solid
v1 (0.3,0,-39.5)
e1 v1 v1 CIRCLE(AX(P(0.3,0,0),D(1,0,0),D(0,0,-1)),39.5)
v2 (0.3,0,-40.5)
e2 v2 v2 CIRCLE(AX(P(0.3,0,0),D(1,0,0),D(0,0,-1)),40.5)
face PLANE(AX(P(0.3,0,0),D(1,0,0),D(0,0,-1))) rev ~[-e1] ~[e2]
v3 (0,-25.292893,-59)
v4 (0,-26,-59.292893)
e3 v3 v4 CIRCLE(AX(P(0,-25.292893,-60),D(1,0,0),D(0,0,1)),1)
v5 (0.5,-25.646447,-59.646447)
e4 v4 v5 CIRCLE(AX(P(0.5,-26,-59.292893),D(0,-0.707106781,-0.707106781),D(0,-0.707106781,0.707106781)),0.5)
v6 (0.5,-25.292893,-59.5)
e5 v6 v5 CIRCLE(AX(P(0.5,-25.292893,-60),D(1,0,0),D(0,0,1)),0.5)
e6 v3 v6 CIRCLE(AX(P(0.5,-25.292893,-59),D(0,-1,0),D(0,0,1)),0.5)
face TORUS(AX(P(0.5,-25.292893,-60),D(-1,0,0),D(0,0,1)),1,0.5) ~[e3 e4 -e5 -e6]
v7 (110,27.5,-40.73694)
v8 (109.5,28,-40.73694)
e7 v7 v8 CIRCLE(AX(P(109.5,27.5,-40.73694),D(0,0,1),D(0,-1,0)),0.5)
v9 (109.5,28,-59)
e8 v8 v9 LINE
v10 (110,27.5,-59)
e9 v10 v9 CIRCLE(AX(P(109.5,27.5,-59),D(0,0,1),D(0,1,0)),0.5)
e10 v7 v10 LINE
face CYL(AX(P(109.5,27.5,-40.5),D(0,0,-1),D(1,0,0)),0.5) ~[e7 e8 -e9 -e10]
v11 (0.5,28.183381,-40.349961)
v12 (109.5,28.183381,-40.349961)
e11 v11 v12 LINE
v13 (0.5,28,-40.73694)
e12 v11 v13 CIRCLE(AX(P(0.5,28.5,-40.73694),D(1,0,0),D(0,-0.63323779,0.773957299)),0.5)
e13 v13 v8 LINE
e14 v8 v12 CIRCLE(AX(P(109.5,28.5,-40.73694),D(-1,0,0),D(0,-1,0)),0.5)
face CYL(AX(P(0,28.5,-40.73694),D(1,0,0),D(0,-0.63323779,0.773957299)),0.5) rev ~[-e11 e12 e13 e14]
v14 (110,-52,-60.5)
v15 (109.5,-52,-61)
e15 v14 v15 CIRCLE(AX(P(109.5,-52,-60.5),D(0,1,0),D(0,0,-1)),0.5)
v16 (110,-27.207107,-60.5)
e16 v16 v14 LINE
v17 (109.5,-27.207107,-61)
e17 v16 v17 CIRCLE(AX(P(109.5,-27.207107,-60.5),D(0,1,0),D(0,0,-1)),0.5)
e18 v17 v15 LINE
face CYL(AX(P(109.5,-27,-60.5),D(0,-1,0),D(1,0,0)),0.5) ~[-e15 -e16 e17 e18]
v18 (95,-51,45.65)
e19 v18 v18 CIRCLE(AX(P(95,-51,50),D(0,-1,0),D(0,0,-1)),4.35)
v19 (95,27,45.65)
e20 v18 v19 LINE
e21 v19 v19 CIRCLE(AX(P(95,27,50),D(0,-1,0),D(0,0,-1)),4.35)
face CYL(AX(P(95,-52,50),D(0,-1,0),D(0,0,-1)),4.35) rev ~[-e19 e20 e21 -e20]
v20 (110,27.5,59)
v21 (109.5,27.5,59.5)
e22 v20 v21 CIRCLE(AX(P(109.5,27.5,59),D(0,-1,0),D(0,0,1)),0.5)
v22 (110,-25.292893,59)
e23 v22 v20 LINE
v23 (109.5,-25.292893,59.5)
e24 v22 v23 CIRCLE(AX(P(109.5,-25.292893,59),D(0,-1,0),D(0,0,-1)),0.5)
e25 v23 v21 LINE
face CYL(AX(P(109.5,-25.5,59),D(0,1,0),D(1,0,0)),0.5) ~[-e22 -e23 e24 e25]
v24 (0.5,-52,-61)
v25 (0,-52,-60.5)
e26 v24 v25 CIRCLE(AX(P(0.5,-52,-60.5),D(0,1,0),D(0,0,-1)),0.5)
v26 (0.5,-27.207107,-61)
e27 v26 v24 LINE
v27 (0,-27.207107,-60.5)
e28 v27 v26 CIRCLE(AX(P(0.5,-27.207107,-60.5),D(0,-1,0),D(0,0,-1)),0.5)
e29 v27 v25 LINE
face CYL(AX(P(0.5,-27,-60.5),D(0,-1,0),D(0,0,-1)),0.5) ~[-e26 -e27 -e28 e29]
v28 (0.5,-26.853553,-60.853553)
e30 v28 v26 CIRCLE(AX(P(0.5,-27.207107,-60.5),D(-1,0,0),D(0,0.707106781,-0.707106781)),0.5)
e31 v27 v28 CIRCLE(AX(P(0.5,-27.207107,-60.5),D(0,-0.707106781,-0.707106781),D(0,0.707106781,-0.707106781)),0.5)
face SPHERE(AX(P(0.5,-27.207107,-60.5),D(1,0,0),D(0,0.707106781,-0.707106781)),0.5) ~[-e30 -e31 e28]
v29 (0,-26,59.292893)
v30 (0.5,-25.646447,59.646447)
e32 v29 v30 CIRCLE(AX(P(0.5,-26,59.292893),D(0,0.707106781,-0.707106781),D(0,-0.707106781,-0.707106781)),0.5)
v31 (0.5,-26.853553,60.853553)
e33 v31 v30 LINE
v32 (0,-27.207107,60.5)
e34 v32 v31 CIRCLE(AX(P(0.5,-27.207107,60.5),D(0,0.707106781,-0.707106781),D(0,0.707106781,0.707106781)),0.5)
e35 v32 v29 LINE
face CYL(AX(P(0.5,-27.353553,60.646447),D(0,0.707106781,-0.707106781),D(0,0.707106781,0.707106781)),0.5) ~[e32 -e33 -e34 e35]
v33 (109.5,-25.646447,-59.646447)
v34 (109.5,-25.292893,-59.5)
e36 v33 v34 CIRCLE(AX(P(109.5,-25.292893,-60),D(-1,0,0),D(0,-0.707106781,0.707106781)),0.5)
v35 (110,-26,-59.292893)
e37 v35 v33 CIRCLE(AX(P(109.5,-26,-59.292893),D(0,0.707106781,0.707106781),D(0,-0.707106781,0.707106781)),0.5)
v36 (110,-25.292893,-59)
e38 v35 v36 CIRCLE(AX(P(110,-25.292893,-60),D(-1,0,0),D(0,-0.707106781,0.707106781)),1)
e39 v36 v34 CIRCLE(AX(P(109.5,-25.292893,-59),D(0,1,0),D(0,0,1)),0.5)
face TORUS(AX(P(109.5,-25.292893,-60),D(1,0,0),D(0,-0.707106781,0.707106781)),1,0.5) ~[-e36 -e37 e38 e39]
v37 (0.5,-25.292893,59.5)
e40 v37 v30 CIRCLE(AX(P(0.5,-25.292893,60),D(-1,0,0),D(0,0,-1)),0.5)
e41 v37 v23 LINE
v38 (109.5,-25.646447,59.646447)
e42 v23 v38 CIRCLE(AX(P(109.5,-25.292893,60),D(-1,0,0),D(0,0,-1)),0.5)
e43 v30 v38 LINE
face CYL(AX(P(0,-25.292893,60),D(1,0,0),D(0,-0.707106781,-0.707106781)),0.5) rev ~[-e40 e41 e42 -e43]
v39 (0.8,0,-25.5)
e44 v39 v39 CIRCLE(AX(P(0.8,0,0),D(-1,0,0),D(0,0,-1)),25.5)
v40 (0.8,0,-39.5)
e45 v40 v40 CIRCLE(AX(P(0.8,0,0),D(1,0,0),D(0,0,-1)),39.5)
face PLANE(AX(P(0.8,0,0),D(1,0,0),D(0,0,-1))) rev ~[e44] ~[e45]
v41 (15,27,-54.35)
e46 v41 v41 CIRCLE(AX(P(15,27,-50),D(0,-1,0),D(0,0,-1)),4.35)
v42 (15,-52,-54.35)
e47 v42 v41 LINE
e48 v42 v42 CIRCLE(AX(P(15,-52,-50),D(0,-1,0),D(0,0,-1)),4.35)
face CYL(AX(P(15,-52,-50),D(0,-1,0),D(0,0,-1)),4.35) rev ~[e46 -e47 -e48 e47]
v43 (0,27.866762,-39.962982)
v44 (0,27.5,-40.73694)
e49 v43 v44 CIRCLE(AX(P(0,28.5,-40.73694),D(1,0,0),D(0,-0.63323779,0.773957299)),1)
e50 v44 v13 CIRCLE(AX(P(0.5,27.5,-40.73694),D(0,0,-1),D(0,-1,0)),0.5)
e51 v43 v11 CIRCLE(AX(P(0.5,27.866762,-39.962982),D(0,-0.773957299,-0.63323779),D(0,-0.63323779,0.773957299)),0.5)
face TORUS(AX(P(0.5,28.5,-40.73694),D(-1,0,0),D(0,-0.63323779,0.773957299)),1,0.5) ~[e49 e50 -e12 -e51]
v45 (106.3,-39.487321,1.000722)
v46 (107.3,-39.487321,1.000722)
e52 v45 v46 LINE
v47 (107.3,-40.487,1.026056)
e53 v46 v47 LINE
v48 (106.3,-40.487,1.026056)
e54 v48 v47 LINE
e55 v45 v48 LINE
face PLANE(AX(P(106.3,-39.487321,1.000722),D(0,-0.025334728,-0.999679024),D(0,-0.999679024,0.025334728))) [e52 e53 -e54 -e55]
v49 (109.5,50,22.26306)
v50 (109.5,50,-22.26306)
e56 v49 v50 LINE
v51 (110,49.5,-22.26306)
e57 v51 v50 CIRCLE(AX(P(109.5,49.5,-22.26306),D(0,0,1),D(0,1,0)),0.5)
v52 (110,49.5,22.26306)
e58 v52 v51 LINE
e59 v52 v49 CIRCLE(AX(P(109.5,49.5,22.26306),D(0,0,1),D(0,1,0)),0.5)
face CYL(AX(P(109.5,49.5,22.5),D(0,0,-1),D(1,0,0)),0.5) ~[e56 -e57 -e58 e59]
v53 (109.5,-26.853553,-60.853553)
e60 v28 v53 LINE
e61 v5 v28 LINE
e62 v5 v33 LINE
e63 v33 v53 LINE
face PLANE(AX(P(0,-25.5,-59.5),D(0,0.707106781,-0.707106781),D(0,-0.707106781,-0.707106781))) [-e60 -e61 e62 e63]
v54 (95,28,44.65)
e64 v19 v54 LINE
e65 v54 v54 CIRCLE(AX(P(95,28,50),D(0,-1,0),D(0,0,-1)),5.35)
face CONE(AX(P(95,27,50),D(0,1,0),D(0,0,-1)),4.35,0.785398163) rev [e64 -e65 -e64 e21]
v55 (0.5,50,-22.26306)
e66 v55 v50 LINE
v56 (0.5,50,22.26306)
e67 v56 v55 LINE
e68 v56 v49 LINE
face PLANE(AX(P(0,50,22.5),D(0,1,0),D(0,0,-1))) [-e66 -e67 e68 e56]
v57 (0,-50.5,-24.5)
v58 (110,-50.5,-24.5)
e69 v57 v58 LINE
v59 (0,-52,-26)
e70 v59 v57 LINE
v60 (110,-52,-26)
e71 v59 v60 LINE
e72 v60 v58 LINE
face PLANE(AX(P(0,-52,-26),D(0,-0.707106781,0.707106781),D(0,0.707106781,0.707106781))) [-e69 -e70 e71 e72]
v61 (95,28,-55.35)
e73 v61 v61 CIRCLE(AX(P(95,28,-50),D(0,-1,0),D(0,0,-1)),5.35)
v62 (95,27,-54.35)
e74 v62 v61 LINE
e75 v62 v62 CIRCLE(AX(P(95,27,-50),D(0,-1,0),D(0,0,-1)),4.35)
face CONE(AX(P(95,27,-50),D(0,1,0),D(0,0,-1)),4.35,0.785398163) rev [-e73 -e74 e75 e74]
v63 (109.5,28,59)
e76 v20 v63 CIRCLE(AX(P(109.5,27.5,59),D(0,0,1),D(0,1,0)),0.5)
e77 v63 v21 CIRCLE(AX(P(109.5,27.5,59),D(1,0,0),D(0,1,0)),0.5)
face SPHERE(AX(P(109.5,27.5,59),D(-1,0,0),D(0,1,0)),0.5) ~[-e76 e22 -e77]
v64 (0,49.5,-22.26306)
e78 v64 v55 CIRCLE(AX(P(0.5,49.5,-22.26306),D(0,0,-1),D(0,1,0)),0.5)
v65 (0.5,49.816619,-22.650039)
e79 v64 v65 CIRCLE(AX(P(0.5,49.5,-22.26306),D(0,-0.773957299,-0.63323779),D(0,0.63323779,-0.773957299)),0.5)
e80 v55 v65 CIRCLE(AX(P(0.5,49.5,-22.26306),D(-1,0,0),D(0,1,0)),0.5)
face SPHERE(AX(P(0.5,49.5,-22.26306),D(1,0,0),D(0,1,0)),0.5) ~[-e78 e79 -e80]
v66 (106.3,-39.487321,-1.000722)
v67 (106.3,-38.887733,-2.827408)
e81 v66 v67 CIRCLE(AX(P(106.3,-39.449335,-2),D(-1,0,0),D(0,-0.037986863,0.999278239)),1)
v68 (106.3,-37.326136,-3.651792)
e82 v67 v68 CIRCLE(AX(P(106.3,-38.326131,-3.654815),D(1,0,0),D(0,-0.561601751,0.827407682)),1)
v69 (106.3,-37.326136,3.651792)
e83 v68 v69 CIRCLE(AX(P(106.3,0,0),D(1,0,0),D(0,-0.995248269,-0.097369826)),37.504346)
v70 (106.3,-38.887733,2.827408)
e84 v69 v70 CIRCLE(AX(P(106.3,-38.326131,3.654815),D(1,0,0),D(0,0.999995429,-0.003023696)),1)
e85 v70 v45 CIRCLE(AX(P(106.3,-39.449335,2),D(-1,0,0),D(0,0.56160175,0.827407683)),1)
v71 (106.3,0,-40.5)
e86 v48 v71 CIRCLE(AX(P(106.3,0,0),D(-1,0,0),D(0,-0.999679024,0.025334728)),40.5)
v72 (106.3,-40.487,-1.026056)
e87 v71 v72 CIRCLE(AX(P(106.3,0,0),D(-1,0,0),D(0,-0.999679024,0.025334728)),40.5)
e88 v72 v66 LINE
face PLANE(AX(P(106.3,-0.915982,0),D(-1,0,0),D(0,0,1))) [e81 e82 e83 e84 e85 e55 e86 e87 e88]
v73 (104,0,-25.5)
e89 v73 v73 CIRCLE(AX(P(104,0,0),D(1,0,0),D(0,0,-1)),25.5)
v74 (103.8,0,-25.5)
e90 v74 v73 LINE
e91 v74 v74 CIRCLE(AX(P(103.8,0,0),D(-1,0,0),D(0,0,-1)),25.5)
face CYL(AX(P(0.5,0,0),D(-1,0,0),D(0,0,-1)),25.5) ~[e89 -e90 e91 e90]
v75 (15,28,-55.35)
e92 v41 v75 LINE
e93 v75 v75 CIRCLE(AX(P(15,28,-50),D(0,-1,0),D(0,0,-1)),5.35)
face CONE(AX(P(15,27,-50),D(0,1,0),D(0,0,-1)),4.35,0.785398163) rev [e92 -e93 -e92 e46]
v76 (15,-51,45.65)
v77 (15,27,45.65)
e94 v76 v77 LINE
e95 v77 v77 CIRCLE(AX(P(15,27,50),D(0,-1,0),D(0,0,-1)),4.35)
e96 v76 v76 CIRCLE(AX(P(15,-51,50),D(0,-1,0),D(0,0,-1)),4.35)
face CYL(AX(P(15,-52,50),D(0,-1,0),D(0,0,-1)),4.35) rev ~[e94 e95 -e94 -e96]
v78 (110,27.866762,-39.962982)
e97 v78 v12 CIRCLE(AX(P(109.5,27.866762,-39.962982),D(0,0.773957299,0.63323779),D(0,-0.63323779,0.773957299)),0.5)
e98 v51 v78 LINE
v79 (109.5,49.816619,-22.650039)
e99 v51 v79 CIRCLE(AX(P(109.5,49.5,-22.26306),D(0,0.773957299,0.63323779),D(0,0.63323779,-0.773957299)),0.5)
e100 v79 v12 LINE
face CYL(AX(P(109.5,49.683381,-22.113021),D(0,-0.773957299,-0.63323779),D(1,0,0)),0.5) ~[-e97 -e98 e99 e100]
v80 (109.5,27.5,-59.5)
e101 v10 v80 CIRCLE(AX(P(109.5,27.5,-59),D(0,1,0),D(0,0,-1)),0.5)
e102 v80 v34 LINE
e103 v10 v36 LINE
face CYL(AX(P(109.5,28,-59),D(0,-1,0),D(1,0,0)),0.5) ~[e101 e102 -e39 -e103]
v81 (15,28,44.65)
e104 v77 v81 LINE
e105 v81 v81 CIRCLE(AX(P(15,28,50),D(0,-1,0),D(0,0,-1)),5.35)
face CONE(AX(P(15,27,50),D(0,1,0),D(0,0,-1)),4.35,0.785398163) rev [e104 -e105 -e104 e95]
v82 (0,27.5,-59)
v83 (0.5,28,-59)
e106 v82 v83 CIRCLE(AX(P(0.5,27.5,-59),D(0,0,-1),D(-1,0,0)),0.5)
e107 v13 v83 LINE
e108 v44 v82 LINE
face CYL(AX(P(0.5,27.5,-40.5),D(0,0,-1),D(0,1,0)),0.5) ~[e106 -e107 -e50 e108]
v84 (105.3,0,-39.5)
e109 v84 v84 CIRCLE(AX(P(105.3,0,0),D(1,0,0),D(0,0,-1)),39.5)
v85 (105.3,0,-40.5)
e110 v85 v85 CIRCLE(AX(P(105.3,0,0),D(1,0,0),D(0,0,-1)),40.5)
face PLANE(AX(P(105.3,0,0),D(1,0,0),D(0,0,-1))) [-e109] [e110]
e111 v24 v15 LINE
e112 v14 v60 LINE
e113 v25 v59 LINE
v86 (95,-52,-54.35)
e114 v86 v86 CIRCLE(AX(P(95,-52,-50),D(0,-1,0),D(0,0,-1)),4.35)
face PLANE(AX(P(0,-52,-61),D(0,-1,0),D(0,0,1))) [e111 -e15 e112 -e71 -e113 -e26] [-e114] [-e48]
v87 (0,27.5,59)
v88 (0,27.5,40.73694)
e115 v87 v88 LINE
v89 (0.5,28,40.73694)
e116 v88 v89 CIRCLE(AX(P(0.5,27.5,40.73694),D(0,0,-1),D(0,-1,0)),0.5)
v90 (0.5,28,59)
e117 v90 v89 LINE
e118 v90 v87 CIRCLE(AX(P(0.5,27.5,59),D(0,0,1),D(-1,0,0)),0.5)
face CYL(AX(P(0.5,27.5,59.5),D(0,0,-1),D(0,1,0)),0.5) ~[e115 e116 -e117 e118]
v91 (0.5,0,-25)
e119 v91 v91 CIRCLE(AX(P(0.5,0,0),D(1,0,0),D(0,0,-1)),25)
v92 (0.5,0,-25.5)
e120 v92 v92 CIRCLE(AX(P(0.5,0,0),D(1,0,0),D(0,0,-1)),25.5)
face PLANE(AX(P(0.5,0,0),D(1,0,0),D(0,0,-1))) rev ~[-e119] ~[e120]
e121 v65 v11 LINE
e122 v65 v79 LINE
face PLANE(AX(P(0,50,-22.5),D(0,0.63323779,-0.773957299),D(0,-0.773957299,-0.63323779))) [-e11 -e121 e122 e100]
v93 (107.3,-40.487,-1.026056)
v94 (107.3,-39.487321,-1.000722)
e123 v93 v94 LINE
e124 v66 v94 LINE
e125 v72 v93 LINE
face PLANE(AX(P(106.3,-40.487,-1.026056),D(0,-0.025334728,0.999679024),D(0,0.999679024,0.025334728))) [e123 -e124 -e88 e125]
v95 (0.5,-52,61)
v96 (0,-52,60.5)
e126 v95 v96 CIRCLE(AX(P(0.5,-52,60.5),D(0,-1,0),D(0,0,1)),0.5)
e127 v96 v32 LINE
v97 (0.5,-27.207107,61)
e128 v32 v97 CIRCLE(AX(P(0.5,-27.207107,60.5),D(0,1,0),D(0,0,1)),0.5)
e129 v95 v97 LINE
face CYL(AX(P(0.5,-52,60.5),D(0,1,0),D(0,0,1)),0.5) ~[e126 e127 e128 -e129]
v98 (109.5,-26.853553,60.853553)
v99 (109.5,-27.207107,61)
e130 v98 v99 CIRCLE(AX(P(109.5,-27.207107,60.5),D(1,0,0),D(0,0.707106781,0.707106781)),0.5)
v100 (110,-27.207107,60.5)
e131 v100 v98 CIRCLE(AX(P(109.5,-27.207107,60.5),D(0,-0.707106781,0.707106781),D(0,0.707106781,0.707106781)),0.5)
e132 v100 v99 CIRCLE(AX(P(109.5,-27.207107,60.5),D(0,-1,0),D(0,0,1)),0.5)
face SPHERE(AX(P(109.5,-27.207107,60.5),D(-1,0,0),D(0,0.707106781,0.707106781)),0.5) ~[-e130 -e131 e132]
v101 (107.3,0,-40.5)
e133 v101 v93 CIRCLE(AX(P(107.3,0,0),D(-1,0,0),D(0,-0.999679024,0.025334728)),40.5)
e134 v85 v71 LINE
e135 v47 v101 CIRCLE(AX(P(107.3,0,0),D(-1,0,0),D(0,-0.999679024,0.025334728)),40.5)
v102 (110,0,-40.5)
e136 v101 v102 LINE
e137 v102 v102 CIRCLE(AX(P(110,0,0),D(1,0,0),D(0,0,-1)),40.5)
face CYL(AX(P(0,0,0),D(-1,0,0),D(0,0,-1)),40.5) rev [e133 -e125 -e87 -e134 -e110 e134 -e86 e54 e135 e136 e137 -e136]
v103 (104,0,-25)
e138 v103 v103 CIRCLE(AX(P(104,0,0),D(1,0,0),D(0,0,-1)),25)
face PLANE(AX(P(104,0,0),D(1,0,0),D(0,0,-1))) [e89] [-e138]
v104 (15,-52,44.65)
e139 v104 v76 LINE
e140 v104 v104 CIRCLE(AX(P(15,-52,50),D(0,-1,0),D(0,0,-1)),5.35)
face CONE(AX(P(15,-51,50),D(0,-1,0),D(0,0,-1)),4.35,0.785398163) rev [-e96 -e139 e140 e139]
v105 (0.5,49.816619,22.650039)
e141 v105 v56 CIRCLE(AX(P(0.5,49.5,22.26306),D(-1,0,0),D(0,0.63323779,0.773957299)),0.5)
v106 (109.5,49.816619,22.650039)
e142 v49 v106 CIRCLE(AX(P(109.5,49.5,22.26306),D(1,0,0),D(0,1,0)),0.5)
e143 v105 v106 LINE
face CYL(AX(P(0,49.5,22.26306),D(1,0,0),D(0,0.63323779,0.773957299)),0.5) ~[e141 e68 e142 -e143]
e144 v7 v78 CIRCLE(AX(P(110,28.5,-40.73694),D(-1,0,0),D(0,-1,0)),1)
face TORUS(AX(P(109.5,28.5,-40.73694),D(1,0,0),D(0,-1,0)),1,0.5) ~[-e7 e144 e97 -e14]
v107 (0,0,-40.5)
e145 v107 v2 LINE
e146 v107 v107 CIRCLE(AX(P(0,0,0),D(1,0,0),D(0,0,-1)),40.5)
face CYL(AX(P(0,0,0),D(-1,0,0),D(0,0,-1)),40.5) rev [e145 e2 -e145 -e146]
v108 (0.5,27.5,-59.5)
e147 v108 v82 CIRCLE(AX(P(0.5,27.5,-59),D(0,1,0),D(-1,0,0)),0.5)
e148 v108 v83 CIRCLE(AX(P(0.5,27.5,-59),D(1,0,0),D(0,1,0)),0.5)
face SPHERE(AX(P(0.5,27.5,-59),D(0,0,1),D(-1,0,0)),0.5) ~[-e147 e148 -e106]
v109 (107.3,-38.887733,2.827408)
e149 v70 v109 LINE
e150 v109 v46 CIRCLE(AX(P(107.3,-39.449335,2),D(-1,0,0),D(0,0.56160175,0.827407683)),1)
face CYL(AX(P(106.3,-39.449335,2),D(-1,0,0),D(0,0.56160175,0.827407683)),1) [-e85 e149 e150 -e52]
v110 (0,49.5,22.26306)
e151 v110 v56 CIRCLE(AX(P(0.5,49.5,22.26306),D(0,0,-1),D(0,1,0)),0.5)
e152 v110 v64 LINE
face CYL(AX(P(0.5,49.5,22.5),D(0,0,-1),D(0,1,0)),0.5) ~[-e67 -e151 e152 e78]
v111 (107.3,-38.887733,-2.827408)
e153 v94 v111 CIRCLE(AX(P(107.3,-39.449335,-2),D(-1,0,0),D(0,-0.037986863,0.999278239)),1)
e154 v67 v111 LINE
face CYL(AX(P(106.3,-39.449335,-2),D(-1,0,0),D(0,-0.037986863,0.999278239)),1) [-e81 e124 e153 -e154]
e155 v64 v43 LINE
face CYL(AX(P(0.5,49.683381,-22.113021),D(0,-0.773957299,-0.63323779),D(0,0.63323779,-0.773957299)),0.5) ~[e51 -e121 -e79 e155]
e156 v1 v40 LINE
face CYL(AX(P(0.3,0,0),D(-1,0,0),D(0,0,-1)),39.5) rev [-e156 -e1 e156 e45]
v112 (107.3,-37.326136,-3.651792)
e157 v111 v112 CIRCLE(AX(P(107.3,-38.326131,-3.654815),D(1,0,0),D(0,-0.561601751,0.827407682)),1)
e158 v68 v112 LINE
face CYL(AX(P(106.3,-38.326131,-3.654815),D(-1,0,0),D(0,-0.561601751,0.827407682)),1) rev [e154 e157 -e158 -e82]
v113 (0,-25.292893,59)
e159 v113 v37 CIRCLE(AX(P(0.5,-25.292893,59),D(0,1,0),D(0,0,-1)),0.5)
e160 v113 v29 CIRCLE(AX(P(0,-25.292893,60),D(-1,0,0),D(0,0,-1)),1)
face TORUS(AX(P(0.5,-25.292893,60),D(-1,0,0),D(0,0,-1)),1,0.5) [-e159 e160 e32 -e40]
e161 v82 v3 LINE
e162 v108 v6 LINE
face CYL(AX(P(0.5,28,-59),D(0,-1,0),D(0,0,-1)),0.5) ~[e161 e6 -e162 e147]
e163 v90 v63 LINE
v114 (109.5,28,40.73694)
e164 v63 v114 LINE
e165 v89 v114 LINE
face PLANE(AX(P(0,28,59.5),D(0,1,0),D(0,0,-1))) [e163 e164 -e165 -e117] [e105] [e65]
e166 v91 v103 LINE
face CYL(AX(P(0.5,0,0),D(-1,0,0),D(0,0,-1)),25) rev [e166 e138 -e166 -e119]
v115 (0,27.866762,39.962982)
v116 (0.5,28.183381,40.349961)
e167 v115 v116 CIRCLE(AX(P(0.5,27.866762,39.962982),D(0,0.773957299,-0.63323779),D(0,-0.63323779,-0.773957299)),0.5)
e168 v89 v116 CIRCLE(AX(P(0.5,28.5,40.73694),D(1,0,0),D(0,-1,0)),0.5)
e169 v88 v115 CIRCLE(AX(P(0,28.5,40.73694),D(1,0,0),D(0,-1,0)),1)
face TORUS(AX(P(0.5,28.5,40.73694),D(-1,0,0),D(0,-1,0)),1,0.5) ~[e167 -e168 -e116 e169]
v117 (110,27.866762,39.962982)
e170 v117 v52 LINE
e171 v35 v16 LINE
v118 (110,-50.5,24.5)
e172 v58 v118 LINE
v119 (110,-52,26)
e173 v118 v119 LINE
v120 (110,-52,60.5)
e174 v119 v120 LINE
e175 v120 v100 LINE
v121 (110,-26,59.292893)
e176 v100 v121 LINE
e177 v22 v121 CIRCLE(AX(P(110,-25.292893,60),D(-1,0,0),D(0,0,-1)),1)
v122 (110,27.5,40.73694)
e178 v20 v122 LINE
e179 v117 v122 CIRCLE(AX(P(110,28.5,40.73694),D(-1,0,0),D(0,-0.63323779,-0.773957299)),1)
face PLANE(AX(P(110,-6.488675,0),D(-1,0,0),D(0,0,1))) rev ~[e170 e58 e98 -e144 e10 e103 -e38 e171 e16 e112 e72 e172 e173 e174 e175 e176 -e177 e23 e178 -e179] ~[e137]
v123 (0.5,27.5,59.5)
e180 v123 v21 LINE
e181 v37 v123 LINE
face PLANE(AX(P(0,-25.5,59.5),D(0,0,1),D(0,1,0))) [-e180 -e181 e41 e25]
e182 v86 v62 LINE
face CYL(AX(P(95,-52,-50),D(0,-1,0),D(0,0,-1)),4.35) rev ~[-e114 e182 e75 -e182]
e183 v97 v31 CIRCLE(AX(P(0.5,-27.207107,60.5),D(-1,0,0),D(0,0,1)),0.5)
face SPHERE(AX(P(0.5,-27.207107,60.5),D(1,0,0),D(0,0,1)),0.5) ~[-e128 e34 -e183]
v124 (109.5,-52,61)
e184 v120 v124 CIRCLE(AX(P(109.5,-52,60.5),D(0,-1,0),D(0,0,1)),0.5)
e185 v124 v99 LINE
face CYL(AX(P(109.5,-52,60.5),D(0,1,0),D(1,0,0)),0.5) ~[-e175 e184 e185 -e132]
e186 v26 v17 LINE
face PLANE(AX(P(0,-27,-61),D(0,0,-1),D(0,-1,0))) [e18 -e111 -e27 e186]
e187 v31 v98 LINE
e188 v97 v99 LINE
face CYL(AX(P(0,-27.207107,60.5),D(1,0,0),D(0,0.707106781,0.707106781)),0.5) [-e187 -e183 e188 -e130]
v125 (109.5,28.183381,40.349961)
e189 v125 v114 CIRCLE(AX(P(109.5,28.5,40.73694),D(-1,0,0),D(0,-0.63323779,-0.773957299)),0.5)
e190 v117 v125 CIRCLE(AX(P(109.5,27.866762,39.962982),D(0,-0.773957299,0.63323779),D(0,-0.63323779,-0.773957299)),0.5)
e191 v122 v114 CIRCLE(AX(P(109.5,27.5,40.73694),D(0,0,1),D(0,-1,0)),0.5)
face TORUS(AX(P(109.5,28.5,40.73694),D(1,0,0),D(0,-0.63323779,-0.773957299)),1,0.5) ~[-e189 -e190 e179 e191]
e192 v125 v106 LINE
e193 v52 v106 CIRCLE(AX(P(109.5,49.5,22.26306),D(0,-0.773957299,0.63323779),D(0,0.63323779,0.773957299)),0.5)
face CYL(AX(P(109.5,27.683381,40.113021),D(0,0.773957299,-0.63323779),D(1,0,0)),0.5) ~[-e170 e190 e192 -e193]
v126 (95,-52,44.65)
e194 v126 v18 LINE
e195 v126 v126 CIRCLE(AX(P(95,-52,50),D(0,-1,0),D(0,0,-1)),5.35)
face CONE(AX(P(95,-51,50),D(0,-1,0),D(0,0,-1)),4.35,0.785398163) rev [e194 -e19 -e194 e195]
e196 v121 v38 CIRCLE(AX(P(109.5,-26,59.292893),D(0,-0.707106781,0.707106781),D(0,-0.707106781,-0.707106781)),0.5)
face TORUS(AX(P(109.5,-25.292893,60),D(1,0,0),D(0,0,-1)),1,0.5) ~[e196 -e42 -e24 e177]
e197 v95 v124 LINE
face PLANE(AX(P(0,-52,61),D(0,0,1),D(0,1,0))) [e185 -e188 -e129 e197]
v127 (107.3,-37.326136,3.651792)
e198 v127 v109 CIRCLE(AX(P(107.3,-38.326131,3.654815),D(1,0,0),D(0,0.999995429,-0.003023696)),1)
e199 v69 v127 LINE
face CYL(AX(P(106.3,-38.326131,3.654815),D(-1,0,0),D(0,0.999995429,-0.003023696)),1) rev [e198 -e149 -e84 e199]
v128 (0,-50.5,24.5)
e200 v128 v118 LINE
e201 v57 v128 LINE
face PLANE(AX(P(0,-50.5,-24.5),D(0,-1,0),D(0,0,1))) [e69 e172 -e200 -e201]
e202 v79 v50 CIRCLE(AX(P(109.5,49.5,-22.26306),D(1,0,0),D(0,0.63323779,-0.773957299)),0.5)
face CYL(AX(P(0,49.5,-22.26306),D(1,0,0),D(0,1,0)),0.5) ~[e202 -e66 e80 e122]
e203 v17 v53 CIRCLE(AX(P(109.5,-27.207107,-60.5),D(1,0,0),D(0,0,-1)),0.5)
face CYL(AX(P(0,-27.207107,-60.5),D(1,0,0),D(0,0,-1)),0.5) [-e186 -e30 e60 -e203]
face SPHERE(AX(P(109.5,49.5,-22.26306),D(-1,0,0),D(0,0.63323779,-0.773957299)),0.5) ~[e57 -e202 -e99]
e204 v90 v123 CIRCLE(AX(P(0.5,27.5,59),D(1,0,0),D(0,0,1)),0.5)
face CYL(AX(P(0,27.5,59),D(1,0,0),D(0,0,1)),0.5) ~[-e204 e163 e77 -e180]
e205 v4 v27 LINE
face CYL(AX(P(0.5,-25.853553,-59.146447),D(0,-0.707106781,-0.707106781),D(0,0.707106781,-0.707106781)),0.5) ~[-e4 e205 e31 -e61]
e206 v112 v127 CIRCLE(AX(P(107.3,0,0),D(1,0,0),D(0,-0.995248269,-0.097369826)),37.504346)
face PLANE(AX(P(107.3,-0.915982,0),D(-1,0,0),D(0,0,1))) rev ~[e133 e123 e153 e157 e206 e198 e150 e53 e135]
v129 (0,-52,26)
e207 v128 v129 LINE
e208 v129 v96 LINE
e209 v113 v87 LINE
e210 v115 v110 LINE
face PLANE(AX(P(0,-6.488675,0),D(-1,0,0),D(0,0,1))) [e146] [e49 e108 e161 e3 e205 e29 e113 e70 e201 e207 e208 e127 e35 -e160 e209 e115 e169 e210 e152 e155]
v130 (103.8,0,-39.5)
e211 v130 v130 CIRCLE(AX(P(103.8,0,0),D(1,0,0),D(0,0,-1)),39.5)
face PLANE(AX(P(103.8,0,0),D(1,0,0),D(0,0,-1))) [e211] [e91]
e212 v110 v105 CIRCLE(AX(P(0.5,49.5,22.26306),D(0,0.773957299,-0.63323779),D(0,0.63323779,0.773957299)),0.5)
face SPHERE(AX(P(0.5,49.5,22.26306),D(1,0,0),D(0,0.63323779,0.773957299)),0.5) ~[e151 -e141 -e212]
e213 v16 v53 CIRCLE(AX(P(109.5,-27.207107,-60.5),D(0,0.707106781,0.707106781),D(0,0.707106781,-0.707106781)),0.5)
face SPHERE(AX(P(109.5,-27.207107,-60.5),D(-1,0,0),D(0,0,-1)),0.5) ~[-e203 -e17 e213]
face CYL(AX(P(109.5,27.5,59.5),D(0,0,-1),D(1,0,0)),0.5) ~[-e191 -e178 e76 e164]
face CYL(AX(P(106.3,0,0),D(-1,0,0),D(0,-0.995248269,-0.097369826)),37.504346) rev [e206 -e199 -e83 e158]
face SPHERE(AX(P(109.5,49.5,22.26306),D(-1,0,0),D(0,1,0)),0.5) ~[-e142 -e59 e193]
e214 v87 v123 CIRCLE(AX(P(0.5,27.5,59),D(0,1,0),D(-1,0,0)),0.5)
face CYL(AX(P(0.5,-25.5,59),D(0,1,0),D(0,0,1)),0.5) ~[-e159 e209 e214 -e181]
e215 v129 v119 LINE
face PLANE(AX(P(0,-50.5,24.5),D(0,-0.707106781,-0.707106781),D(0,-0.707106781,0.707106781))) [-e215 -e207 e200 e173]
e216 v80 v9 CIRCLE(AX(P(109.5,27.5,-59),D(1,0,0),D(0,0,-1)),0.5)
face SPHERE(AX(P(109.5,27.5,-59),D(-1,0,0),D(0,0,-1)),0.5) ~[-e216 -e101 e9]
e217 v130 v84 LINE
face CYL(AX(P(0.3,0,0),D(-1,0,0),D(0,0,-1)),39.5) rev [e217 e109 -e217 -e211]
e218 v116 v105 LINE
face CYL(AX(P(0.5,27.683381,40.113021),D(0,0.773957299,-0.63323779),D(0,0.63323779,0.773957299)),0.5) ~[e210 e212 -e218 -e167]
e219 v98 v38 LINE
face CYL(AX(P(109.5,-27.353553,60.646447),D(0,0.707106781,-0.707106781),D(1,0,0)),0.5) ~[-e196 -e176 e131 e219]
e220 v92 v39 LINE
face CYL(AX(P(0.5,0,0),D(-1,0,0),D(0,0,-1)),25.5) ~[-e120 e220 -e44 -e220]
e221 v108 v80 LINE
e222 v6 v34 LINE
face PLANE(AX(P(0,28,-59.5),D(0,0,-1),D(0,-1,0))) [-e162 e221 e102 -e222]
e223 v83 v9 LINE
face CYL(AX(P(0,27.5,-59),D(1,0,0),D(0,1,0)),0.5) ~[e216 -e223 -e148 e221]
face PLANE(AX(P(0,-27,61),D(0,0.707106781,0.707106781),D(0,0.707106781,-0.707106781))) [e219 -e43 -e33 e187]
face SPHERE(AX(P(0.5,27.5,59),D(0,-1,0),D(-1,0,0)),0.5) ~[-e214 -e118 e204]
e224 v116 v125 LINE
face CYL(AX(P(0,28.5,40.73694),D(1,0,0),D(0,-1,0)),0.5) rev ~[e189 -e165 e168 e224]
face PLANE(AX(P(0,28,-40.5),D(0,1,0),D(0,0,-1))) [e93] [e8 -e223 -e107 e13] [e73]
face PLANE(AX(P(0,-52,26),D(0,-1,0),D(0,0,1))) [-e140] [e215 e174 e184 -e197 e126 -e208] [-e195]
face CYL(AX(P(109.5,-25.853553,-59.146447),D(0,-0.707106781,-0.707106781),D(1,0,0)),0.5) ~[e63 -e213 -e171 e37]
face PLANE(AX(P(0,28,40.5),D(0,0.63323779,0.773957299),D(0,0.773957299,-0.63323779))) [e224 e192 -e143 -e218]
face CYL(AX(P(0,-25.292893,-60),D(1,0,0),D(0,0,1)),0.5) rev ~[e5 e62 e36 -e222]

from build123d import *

# Parameters (mm, degrees)
SKETCH1_R           = 40.5
BOSS_EXTRUDE1_DEPTH = 110
EXTRUDE_THIN1_START = 0.5
SKETCH1_4_R         = 25.5
SKETCH1_4_R_2       = 25
EXTRUDE_THIN1_DEPTH = 103.5
BOSS_EXTRUDE2_START = 0.8
SKETCH1_5_R         = 39.5
SKETCH1_5_R_2       = 25
BOSS_EXTRUDE2_DEPTH = 103
BOSS_EXTRUDE3_START = 0.3
SKETCH1_6_R         = 40.5
SKETCH1_6_R_2       = 39.5
BOSS_EXTRUDE3_DEPTH = 105
BOSS_EXTRUDE4_START = 1
BOSS_EXTRUDE4_DEPTH = 1
FILLET1_R           = 0.5
SKETCH4_R           = 4.35
CUT_EXTRUDE3_DEPTH  = 162.941347407
CHAMFER1_SIZE       = 1


with BuildPart() as part:
    # Sketch1 → Boss-Extrude1 (new body)
    with BuildSketch(Plane(origin=(0, 0, 0), x_dir=(0, 0, -1), z_dir=(1, 0, 0))):
        Polygon((-61, -52), (-26, -52), (-24.5, -50.5), (24.5, -50.5), (26, -52), (61, -52), (61, -27), (59.5, -25.5), (59.5, 28), (40.5, 28), (22.5, 50), (-22.5, 50), (-40.5, 28), (-59.5, 28), (-59.5, -25.5), (-61, -27), align=None)
        Circle(SKETCH1_R, mode=Mode.SUBTRACT)
    extrude(amount=BOSS_EXTRUDE1_DEPTH)



with BuildPart() as body_2:
    # Sketch1<4> → Extrude-Thin1 (new body)
    with BuildSketch(Plane(origin=(0, 0, 0), x_dir=(0, 0, -1), z_dir=(1, 0, 0)).offset(EXTRUDE_THIN1_START)):
        Circle(SKETCH1_4_R)
        Circle(SKETCH1_4_R_2, mode=Mode.SUBTRACT)
    extrude(amount=EXTRUDE_THIN1_DEPTH)

    # Sketch1<5> → Boss-Extrude2 (add)
    with BuildSketch(Plane(origin=(0, 0, 0), x_dir=(0, 0, -1), z_dir=(1, 0, 0)).offset(BOSS_EXTRUDE2_START)):
        Circle(SKETCH1_5_R)
        Circle(SKETCH1_5_R_2, mode=Mode.SUBTRACT)
    extrude(amount=BOSS_EXTRUDE2_DEPTH)


with BuildPart() as part_1:
    add(part.part)

    add(body_2.part)  # Boss-Extrude3 merges body 2
    # Sketch1<6> → Boss-Extrude3 (add)
    with BuildSketch(Plane(origin=(0, 0, 0), x_dir=(0, 0, -1), z_dir=(1, 0, 0)).offset(BOSS_EXTRUDE3_START)):
        Circle(SKETCH1_6_R)
        Circle(SKETCH1_6_R_2, mode=Mode.SUBTRACT)
    extrude(amount=BOSS_EXTRUDE3_DEPTH)

    # Sketch3 → Boss-Extrude4 (add)
    with BuildSketch(Plane(origin=(105.3, 0, 0), x_dir=(0, 0, -1), z_dir=(1, 0, 0)).offset(BOSS_EXTRUDE4_START)):
        with BuildLine():
            Line((-1.000721761, -39.487321458), (-1.026056489, -40.487000483))
            ThreePointArc((-1.026056489, -40.487000483), (0, 40.5), (1.026056489, -40.487000483))
            Line((1.026056489, -40.487000483), (1.000721761, -39.487321458))
            ThreePointArc((1.000721761, -39.487321458), (1.688132242, -38.499209076), (2.827407683, -38.887732845))
            ThreePointArc((2.827407683, -38.887732845), (4.539151561, -38.792981705), (3.651791669, -37.326135665))
            ThreePointArc((3.651791669, -37.326135665), (0, 37.50434623), (-3.651791669, -37.326135665))
            ThreePointArc((-3.651791669, -37.326135665), (-4.539151561, -38.792981705), (-2.827407683, -38.887732845))
            ThreePointArc((-2.827407683, -38.887732845), (-1.688132242, -38.499209076), (-1.000721761, -39.487321458))
        make_face()
    extrude(amount=BOSS_EXTRUDE4_DEPTH)

    # Fillet1
    fillet1_edges = [part_1.edges().sort_by_distance(p)[0] for p in [
        (55, -25.5, -59.5),
        (55, -25.5, 59.5),
        (55, -27, 61),
        (55, -27, -61),
        (55, 28, -40.5),
        (55, 28, 40.5),
        (55, 50, 22.5),
        (55, 50, -22.5),
        (55, 28, -59.5),
        (55, 28, 59.5),
        (110, 39, -31.5),
        (110, 39, 31.5),
        (110, 1.25, 59.5),
        (0, -26.25, 60.25),
        (0, 39, 31.5),
        (110, -26.25, -60.25),
        (110, -39.5, -61),
        (110, 1.25, -59.5),
        (110, 50, 0),
        (110, 28, -50),
        (110, 28, 50),
        (110, -26.25, 60.25),
        (110, -39.5, 61),
        (0, -39.5, -61),
        (0, -26.25, -60.25),
        (0, 1.25, -59.5),
        (0, 39, -31.5),
        (0, 28, -50),
        (0, 50, 0),
        (0, -39.5, 61),
        (0, 1.25, 59.5),
        (0, 28, 50),
    ]]
    fillet(fillet1_edges, radius=FILLET1_R)

    # Sketch4 → Cut-Extrude3 (cut, through all)
    with BuildSketch(Plane.XZ.offset(52)):
        with Locations((15, 50)):
            Circle(SKETCH4_R)
        with Locations((95, 50)):
            Circle(SKETCH4_R)
        with Locations((95, -50)):
            Circle(SKETCH4_R)
        with Locations((15, -50)):
            Circle(SKETCH4_R)
    extrude(amount=-CUT_EXTRUDE3_DEPTH, mode=Mode.SUBTRACT)

    # Chamfer1
    chamfer1_edges = [part_1.edges().sort_by_distance(p)[0] for p in [
        (90.65, 28, -50),
        (10.65, 28, -50),
        (10.65, 28, 50),
        (90.65, 28, 50),
        (90.65, -52, 50),
        (10.65, -52, 50),
    ]]
    chamfer(chamfer1_edges, length=CHAMFER1_SIZE)


solid = part_1.part
